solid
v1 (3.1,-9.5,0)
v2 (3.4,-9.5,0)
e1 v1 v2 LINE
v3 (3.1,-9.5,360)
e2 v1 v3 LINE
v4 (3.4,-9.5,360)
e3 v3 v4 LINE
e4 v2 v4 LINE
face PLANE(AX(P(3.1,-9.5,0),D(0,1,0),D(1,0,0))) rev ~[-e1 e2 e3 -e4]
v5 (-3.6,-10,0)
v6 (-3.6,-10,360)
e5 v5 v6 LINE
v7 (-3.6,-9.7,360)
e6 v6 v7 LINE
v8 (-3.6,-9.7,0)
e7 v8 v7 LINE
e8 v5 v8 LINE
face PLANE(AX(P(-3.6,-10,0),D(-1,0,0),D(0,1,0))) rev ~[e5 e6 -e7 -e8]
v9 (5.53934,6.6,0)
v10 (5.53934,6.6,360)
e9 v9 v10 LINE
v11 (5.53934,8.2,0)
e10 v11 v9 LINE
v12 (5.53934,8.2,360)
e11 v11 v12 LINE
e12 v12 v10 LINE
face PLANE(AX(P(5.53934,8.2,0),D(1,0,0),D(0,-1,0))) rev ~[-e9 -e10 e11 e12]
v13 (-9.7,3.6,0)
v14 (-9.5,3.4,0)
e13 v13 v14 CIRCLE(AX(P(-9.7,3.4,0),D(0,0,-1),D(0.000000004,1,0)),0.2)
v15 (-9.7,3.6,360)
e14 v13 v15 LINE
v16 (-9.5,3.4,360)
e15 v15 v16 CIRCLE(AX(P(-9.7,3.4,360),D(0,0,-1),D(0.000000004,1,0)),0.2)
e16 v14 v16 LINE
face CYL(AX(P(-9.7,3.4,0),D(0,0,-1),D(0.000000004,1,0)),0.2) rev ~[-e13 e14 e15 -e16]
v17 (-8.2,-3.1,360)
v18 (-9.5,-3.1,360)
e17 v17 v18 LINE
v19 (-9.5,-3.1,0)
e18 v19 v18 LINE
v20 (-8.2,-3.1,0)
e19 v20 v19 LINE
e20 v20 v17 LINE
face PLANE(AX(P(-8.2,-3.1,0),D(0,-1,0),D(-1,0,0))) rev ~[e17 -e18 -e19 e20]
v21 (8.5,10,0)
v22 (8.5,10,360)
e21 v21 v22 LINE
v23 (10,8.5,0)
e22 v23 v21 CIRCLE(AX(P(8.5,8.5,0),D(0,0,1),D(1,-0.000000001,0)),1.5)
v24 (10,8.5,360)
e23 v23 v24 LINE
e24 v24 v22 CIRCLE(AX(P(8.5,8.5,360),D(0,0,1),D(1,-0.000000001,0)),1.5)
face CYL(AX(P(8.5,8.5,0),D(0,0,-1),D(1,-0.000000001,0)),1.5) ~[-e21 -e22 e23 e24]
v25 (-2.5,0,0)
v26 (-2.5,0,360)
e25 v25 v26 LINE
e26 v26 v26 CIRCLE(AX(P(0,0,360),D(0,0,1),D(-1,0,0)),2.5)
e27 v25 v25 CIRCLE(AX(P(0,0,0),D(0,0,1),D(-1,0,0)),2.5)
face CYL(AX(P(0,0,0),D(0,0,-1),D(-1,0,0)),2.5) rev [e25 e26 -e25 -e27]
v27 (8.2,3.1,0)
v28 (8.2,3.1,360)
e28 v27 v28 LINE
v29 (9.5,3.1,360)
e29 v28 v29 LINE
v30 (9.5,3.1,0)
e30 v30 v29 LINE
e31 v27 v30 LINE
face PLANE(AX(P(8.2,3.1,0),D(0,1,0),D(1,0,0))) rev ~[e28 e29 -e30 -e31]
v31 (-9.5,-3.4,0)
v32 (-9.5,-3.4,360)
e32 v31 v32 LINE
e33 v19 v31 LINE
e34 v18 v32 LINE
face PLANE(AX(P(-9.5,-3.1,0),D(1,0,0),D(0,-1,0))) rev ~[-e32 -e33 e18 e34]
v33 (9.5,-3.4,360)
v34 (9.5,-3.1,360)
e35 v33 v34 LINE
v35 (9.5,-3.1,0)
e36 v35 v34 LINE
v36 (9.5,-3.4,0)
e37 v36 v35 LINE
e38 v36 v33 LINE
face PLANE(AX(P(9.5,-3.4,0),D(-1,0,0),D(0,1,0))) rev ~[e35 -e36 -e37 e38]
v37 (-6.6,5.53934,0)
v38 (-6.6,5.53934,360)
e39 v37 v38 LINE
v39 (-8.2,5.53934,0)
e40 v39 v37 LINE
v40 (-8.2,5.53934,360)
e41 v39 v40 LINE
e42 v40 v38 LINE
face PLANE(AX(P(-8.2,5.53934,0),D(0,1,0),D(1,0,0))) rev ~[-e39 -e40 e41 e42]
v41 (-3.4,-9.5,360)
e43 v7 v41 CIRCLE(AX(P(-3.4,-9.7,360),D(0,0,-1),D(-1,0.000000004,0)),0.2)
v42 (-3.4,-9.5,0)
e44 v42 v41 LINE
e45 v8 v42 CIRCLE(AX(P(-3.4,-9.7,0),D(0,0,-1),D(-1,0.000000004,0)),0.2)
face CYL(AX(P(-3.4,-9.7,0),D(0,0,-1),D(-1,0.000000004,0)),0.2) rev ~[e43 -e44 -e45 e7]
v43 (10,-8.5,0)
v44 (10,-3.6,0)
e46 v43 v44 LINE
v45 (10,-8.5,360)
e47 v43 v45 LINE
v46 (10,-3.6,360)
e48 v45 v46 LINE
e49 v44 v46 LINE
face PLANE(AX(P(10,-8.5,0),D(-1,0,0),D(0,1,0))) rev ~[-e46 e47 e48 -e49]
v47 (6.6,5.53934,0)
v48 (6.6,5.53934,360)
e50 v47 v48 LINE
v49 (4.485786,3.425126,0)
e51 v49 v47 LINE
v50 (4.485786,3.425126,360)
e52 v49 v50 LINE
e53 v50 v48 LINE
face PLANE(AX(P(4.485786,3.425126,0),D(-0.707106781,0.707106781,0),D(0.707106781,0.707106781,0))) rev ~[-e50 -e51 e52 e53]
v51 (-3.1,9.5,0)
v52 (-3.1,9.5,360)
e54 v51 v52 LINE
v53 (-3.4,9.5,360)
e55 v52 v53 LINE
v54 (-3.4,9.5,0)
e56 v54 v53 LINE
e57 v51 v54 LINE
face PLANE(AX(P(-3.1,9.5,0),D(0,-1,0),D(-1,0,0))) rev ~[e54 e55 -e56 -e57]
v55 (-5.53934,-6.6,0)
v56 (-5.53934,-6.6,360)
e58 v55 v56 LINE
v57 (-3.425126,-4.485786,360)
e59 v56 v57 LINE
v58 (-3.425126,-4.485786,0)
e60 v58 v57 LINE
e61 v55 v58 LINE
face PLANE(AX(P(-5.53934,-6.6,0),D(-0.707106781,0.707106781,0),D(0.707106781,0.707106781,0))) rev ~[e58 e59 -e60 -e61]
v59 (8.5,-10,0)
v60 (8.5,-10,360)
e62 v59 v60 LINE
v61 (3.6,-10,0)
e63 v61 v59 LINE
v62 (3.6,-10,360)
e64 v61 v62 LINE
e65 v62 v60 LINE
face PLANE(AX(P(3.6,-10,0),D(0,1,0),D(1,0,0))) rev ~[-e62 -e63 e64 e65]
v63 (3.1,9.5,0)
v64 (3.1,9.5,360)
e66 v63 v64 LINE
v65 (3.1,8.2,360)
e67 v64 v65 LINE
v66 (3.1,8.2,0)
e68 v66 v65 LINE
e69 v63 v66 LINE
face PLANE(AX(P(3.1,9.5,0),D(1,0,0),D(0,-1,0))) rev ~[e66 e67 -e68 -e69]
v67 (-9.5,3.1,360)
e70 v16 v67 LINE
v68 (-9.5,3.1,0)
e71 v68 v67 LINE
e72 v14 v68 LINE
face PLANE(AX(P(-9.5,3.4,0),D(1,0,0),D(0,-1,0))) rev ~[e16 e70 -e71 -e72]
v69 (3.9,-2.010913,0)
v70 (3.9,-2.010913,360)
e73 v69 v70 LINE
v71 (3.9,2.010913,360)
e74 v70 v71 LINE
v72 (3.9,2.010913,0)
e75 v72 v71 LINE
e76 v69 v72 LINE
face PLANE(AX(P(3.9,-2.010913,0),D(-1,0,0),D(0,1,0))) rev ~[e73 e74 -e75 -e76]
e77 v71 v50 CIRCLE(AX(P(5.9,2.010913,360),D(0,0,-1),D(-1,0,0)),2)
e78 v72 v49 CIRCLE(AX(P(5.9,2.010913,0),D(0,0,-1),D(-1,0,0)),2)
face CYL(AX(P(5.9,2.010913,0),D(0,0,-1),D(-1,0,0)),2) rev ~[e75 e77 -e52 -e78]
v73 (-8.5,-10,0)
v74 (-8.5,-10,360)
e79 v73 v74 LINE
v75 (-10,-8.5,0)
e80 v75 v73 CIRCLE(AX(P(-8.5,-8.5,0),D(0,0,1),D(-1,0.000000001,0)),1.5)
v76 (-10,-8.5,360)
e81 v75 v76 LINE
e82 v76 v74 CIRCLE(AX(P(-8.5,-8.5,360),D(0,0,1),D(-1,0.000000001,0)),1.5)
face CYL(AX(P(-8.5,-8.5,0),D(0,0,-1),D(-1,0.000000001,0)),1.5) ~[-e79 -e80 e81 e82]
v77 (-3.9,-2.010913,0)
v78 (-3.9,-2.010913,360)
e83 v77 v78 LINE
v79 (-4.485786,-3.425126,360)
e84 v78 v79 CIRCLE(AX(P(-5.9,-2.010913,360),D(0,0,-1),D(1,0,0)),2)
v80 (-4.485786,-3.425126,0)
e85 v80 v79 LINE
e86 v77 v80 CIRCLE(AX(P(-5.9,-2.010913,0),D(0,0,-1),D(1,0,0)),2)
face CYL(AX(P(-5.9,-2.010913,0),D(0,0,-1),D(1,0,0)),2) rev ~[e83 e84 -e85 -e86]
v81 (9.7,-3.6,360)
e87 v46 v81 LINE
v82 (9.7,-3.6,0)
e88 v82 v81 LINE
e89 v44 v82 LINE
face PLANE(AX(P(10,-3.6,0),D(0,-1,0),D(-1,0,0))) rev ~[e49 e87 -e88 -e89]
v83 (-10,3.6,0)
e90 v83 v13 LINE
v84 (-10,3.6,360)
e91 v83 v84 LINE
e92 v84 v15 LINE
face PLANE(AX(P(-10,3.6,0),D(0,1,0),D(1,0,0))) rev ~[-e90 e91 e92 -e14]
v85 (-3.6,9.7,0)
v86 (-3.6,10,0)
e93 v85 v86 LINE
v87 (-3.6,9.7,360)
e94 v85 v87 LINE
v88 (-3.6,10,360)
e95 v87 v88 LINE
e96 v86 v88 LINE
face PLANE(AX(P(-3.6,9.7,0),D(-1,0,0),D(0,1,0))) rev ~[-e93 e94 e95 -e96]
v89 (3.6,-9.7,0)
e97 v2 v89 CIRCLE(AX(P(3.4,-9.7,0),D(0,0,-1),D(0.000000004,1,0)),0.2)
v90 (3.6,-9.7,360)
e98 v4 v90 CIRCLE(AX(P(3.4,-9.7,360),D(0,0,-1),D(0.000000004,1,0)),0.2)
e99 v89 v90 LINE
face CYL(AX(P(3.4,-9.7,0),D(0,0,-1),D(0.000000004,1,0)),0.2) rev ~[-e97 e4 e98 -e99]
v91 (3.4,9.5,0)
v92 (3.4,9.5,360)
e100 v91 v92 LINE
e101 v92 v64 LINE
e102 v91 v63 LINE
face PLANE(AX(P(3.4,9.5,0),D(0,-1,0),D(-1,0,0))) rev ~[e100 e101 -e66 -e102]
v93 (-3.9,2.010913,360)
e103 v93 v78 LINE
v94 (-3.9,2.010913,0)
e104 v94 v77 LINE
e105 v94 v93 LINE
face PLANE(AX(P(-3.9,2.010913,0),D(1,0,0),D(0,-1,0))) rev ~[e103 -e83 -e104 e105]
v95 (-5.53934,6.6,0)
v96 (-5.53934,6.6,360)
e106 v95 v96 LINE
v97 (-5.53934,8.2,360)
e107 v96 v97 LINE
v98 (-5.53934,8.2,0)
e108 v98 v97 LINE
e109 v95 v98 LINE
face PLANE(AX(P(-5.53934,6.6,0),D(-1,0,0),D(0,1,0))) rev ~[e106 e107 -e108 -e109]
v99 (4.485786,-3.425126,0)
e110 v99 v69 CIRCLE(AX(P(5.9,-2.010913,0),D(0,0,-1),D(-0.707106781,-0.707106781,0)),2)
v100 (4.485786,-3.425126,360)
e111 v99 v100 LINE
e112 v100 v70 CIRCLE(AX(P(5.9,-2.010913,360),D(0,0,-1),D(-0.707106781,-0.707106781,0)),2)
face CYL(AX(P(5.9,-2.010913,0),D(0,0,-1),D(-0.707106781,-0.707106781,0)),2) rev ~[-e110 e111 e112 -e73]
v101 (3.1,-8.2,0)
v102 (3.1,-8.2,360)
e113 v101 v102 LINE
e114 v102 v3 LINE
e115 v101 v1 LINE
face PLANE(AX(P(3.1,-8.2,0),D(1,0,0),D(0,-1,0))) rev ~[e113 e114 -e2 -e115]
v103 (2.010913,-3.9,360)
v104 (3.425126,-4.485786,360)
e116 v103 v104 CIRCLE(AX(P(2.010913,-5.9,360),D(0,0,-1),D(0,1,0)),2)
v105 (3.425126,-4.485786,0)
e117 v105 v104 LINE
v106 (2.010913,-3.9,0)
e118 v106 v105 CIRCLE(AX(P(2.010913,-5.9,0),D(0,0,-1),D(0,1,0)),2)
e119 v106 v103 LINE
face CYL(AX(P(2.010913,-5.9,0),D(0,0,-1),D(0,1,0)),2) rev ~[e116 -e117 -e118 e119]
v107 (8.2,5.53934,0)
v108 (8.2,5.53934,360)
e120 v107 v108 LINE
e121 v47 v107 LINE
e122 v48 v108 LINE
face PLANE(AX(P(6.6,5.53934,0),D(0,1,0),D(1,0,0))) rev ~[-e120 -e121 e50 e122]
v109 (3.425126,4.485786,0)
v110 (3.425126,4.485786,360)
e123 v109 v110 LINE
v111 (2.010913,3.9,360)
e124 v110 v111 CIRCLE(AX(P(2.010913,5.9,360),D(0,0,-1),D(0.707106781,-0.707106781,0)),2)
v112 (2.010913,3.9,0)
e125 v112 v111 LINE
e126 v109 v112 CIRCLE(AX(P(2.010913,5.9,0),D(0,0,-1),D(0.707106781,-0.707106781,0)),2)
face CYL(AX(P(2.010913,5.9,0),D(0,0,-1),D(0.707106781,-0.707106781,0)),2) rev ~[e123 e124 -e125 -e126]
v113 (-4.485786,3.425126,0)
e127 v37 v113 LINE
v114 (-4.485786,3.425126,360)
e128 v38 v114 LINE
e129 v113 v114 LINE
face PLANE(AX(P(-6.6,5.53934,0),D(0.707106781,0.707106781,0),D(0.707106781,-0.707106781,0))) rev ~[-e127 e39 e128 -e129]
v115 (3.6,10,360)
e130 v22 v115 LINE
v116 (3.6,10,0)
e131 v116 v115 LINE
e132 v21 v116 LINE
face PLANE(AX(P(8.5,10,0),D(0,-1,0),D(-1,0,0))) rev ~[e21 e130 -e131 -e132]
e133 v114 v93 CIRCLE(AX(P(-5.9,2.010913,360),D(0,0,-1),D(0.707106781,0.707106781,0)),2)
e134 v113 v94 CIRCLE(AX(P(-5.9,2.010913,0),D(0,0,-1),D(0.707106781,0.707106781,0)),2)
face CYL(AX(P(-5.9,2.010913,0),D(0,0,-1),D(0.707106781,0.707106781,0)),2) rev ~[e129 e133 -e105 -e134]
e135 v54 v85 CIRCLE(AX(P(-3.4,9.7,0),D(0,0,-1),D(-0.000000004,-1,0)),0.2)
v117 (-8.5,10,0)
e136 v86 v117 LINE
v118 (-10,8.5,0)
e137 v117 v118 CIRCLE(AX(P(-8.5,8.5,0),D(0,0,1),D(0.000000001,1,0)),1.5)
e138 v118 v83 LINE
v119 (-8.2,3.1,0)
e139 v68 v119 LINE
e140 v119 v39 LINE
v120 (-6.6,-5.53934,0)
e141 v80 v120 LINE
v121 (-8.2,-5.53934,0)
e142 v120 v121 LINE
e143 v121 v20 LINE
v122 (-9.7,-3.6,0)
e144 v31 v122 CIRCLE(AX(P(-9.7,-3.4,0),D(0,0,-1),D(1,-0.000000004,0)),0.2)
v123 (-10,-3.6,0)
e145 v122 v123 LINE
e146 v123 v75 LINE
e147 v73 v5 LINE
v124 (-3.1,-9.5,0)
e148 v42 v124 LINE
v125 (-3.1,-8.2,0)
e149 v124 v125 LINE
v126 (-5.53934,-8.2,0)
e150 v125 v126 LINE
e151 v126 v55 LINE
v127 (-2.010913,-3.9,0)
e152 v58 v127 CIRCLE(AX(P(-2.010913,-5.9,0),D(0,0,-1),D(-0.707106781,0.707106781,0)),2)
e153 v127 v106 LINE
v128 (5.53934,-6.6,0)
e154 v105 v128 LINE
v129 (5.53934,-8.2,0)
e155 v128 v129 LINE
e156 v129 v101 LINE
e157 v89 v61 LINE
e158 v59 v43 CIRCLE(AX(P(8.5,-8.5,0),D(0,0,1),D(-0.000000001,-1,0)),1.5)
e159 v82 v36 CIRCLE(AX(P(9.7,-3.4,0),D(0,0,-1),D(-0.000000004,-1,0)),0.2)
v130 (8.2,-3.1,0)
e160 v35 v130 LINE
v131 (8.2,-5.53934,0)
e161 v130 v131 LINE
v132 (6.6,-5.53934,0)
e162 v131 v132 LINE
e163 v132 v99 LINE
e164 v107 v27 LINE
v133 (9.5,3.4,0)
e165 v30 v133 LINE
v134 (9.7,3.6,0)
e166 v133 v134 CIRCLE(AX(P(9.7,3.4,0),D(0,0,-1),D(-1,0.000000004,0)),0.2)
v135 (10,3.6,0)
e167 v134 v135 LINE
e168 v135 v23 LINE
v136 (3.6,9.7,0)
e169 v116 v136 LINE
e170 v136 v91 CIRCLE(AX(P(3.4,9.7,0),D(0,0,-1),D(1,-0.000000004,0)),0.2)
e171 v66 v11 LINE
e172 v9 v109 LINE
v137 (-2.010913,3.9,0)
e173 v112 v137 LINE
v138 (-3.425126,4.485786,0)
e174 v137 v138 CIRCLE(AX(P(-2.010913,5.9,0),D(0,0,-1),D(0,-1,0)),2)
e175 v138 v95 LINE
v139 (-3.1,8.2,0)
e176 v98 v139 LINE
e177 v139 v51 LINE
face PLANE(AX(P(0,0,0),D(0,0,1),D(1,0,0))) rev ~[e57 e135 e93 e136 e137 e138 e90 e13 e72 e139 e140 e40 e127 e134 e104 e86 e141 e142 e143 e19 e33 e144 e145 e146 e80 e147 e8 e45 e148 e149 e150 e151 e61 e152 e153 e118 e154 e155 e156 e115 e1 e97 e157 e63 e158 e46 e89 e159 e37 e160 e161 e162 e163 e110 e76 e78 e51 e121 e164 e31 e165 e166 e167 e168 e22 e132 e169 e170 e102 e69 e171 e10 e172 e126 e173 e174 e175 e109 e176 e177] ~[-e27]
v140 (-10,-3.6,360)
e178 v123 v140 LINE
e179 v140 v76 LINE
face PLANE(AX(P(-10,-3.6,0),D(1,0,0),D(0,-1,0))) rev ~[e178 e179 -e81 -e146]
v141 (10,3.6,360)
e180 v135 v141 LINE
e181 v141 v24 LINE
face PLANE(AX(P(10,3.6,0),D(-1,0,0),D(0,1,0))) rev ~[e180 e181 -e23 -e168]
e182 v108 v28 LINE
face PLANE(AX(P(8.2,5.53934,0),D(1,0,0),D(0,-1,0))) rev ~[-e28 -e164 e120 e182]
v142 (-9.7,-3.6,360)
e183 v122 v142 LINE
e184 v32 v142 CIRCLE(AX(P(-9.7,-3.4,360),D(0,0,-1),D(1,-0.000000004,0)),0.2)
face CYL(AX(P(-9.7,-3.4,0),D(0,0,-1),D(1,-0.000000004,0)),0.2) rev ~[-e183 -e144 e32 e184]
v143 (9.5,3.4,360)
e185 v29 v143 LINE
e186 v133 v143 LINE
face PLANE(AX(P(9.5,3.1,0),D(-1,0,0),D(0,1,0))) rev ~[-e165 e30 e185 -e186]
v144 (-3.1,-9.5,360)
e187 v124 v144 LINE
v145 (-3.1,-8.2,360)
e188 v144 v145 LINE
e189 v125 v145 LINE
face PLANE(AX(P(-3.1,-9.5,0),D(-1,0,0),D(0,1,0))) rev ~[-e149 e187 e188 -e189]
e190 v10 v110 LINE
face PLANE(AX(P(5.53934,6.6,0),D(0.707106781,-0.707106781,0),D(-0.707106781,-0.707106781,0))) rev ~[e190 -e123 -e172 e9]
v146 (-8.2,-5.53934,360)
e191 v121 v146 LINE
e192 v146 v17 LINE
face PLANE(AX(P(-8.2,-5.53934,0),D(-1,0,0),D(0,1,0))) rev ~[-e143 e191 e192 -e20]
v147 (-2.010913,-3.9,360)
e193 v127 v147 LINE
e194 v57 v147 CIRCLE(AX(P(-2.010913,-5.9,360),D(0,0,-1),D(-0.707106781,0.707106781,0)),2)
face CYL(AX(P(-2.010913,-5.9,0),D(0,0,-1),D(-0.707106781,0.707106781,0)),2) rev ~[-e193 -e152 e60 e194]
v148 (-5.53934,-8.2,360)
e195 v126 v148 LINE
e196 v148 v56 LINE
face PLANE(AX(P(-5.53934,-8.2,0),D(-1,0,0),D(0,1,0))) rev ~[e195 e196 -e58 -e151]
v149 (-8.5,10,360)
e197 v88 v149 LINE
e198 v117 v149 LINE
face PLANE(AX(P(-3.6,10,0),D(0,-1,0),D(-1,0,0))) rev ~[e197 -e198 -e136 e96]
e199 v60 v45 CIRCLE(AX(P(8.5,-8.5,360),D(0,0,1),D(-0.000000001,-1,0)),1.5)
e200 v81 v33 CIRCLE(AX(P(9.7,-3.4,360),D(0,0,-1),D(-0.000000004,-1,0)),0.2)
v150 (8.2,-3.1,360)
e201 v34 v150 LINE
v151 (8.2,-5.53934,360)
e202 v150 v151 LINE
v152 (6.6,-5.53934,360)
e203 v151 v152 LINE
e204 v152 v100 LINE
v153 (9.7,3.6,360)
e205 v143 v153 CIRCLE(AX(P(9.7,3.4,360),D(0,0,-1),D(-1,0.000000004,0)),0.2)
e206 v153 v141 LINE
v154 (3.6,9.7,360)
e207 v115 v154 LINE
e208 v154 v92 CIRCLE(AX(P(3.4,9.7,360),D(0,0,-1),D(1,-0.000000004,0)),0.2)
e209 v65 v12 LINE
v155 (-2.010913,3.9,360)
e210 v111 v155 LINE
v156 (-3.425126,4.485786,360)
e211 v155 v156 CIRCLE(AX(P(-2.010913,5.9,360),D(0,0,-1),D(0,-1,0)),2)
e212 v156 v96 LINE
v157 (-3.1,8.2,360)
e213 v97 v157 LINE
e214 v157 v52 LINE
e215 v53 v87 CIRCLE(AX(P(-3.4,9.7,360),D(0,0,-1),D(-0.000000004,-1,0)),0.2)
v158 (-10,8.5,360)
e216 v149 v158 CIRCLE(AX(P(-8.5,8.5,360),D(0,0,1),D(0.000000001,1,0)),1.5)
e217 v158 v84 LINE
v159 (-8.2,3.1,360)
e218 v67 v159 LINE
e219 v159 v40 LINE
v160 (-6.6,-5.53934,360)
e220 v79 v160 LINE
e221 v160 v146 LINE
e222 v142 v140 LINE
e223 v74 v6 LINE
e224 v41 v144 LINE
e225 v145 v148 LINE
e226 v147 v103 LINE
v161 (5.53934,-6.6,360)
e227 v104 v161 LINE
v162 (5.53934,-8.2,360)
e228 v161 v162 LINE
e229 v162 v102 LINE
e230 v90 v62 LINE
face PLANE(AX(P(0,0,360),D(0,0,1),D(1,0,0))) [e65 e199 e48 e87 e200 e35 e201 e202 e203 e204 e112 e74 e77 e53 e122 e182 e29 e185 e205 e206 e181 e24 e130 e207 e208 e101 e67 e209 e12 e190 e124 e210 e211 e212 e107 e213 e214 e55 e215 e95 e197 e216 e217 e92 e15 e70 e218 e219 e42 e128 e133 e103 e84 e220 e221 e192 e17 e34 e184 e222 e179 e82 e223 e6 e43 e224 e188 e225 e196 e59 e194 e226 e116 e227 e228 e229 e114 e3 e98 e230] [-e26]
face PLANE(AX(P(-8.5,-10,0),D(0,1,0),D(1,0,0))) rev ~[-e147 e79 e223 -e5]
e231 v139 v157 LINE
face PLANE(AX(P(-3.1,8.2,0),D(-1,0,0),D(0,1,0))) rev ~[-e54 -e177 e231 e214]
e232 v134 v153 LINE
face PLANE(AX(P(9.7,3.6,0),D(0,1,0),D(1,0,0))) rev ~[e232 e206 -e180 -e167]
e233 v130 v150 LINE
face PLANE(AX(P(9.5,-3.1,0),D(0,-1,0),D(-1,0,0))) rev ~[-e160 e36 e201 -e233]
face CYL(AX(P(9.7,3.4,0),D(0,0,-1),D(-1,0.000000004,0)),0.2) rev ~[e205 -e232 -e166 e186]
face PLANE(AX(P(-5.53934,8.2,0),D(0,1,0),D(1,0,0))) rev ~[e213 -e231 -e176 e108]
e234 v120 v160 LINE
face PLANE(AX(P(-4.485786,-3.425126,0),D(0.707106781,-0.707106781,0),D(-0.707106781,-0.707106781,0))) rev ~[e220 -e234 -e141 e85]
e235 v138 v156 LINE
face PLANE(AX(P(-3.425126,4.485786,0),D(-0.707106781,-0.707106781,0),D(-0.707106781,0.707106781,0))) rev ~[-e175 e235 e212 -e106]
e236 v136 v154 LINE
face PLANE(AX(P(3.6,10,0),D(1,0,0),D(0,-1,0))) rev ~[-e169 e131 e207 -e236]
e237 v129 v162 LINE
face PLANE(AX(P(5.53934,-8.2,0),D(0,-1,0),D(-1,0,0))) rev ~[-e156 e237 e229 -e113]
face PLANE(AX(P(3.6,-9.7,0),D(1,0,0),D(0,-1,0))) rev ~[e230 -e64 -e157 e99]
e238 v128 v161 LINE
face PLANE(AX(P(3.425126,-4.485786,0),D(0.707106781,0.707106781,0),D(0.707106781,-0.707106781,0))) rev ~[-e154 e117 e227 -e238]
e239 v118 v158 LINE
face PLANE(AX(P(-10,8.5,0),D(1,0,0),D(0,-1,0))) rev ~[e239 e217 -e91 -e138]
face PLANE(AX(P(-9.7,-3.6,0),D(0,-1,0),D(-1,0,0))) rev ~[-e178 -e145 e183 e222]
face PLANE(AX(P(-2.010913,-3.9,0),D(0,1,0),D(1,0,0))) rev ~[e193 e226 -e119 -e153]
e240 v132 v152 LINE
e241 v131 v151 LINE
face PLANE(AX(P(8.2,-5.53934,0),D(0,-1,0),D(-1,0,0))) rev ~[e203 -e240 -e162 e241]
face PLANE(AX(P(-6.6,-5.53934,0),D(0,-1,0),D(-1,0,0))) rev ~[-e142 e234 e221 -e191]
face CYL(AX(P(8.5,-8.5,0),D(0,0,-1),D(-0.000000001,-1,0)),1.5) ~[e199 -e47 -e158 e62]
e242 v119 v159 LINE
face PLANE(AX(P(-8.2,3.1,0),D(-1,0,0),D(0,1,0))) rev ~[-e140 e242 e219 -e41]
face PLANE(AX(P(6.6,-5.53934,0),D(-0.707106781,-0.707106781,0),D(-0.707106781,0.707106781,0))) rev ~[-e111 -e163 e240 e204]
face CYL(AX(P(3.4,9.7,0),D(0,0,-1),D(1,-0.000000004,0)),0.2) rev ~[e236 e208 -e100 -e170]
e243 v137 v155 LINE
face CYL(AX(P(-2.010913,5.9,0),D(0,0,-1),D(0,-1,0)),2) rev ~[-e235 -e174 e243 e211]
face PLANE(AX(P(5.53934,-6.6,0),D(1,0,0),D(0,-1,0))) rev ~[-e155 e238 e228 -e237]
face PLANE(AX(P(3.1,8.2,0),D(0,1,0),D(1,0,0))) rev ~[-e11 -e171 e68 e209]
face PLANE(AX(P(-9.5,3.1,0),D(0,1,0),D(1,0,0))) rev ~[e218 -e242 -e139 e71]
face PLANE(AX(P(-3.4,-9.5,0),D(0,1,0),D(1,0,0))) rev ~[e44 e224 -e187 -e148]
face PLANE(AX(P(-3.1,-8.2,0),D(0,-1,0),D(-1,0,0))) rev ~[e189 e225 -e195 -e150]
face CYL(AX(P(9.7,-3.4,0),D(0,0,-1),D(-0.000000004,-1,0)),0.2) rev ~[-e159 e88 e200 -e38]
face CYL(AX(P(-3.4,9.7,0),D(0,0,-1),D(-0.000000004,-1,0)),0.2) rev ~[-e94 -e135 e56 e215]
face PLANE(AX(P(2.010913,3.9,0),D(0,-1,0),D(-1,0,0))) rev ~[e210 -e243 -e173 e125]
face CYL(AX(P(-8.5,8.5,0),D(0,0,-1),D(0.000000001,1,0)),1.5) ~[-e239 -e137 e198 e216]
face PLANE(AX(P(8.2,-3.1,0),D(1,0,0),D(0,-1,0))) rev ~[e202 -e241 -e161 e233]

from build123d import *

# Parameters (mm, degrees)
SKETCH1_R      = 2.5
EXTRUDE1_DEPTH = 360


with BuildPart() as part:
    # Sketch1 → Extrude1 (new body)
    with BuildSketch(Plane.XY):
        with BuildLine():
            Line((0, 3.9), (-2.010912703, 3.9))
            ThreePointArc((-2.010912703, 3.9), (-2.776279568, 4.052240935), (-3.425126266, 4.485786438))
            Line((-3.425126266, 4.485786438), (-5.539339828, 6.6))
            Line((-5.539339828, 6.6), (-5.539339828, 8.2))
            Line((-5.539339828, 8.2), (-3.1, 8.2))
            Line((-3.1, 8.2), (-3.1, 9.5))
            Line((-3.1, 9.5), (-3.4, 9.5))
            ThreePointArc((-3.4, 9.5), (-3.541421356, 9.558578644), (-3.6, 9.7))
            Line((-3.6, 9.7), (-3.6, 10))
            Line((-3.6, 10), (-8.5, 10))
            ThreePointArc((-8.5, 10), (-9.560660172, 9.560660172), (-10, 8.5))
            Line((-10, 8.5), (-10, 3.6))
            Line((-10, 3.6), (-9.7, 3.6))
            ThreePointArc((-9.7, 3.6), (-9.558578644, 3.541421356), (-9.5, 3.4))
            Line((-9.5, 3.4), (-9.5, 3.1))
            Line((-9.5, 3.1), (-8.2, 3.1))
            Line((-8.2, 3.1), (-8.2, 5.539339828))
            Line((-8.2, 5.539339828), (-6.6, 5.539339828))
            Line((-6.6, 5.539339828), (-4.485786438, 3.425126266))
            ThreePointArc((-4.485786438, 3.425126266), (-4.052240935, 2.776279568), (-3.9, 2.010912703))
            Line((-3.9, 2.010912703), (-3.9, 0))
            Line((-3.9, 0), (-3.9, -2.010912703))
            ThreePointArc((-3.9, -2.010912703), (-4.052240935, -2.776279568), (-4.485786438, -3.425126266))
            Line((-4.485786438, -3.425126266), (-6.6, -5.539339828))
            Line((-6.6, -5.539339828), (-8.2, -5.539339828))
            Line((-8.2, -5.539339828), (-8.2, -3.1))
            Line((-8.2, -3.1), (-9.5, -3.1))
            Line((-9.5, -3.1), (-9.5, -3.4))
            ThreePointArc((-9.5, -3.4), (-9.558578644, -3.541421356), (-9.7, -3.6))
            Line((-9.7, -3.6), (-10, -3.6))
            Line((-10, -3.6), (-10, -8.5))
            ThreePointArc((-10, -8.5), (-9.560660172, -9.560660172), (-8.5, -10))
            Line((-8.5, -10), (-3.6, -10))
            Line((-3.6, -10), (-3.6, -9.7))
            ThreePointArc((-3.6, -9.7), (-3.541421356, -9.558578644), (-3.4, -9.5))
            Line((-3.4, -9.5), (-3.1, -9.5))
            Line((-3.1, -9.5), (-3.1, -8.2))
            Line((-3.1, -8.2), (-5.539339828, -8.2))
            Line((-5.539339828, -8.2), (-5.539339828, -6.6))
            Line((-5.539339828, -6.6), (-3.425126266, -4.485786438))
            ThreePointArc((-3.425126266, -4.485786438), (-2.776279568, -4.052240935), (-2.010912703, -3.9))
            Line((-2.010912703, -3.9), (0, -3.9))
            Line((0, -3.9), (2.010912703, -3.9))
            ThreePointArc((2.010912703, -3.9), (2.776279568, -4.052240935), (3.425126266, -4.485786438))
            Line((3.425126266, -4.485786438), (5.539339828, -6.6))
            Line((5.539339828, -6.6), (5.539339828, -8.2))
            Line((5.539339828, -8.2), (3.1, -8.2))
            Line((3.1, -8.2), (3.1, -9.5))
            Line((3.1, -9.5), (3.4, -9.5))
            ThreePointArc((3.4, -9.5), (3.541421356, -9.558578644), (3.6, -9.7))
            Line((3.6, -9.7), (3.6, -10))
            Line((3.6, -10), (8.5, -10))
            ThreePointArc((8.5, -10), (9.560660172, -9.560660172), (10, -8.5))
            Line((10, -8.5), (10, -3.6))
            Line((10, -3.6), (9.7, -3.6))
            ThreePointArc((9.7, -3.6), (9.558578644, -3.541421356), (9.5, -3.4))
            Line((9.5, -3.4), (9.5, -3.1))
            Line((9.5, -3.1), (8.2, -3.1))
            Line((8.2, -3.1), (8.2, -5.539339828))
            Line((8.2, -5.539339828), (6.6, -5.539339828))
            Line((6.6, -5.539339828), (4.485786438, -3.425126266))
            ThreePointArc((4.485786438, -3.425126266), (4.052240935, -2.776279568), (3.9, -2.010912703))
            Line((3.9, -2.010912703), (3.9, 0))
            Line((3.9, 0), (3.9, 2.010912703))
            ThreePointArc((3.9, 2.010912703), (4.052240935, 2.776279568), (4.485786438, 3.425126266))
            Line((4.485786438, 3.425126266), (6.6, 5.539339828))
            Line((6.6, 5.539339828), (8.2, 5.539339828))
            Line((8.2, 5.539339828), (8.2, 3.1))
            Line((8.2, 3.1), (9.5, 3.1))
            Line((9.5, 3.1), (9.5, 3.4))
            ThreePointArc((9.5, 3.4), (9.558578644, 3.541421356), (9.7, 3.6))
            Line((9.7, 3.6), (10, 3.6))
            Line((10, 3.6), (10, 8.5))
            ThreePointArc((10, 8.5), (9.560660172, 9.560660172), (8.5, 10))
            Line((8.5, 10), (3.6, 10))
            Line((3.6, 10), (3.6, 9.7))
            ThreePointArc((3.6, 9.7), (3.541421356, 9.558578644), (3.4, 9.5))
            Line((3.4, 9.5), (3.1, 9.5))
            Line((3.1, 9.5), (3.1, 8.2))
            Line((3.1, 8.2), (5.539339828, 8.2))
            Line((5.539339828, 8.2), (5.539339828, 6.6))
            Line((5.539339828, 6.6), (3.425126266, 4.485786438))
            ThreePointArc((3.425126266, 4.485786438), (2.776279568, 4.052240935), (2.010912703, 3.9))
            Line((2.010912703, 3.9), (0, 3.9))
        make_face()
        with Locations(Location((0, 0, 0), (0, 0, 180))):
            Circle(SKETCH1_R, mode=Mode.SUBTRACT)
    extrude(amount=EXTRUDE1_DEPTH)


solid = part.part
